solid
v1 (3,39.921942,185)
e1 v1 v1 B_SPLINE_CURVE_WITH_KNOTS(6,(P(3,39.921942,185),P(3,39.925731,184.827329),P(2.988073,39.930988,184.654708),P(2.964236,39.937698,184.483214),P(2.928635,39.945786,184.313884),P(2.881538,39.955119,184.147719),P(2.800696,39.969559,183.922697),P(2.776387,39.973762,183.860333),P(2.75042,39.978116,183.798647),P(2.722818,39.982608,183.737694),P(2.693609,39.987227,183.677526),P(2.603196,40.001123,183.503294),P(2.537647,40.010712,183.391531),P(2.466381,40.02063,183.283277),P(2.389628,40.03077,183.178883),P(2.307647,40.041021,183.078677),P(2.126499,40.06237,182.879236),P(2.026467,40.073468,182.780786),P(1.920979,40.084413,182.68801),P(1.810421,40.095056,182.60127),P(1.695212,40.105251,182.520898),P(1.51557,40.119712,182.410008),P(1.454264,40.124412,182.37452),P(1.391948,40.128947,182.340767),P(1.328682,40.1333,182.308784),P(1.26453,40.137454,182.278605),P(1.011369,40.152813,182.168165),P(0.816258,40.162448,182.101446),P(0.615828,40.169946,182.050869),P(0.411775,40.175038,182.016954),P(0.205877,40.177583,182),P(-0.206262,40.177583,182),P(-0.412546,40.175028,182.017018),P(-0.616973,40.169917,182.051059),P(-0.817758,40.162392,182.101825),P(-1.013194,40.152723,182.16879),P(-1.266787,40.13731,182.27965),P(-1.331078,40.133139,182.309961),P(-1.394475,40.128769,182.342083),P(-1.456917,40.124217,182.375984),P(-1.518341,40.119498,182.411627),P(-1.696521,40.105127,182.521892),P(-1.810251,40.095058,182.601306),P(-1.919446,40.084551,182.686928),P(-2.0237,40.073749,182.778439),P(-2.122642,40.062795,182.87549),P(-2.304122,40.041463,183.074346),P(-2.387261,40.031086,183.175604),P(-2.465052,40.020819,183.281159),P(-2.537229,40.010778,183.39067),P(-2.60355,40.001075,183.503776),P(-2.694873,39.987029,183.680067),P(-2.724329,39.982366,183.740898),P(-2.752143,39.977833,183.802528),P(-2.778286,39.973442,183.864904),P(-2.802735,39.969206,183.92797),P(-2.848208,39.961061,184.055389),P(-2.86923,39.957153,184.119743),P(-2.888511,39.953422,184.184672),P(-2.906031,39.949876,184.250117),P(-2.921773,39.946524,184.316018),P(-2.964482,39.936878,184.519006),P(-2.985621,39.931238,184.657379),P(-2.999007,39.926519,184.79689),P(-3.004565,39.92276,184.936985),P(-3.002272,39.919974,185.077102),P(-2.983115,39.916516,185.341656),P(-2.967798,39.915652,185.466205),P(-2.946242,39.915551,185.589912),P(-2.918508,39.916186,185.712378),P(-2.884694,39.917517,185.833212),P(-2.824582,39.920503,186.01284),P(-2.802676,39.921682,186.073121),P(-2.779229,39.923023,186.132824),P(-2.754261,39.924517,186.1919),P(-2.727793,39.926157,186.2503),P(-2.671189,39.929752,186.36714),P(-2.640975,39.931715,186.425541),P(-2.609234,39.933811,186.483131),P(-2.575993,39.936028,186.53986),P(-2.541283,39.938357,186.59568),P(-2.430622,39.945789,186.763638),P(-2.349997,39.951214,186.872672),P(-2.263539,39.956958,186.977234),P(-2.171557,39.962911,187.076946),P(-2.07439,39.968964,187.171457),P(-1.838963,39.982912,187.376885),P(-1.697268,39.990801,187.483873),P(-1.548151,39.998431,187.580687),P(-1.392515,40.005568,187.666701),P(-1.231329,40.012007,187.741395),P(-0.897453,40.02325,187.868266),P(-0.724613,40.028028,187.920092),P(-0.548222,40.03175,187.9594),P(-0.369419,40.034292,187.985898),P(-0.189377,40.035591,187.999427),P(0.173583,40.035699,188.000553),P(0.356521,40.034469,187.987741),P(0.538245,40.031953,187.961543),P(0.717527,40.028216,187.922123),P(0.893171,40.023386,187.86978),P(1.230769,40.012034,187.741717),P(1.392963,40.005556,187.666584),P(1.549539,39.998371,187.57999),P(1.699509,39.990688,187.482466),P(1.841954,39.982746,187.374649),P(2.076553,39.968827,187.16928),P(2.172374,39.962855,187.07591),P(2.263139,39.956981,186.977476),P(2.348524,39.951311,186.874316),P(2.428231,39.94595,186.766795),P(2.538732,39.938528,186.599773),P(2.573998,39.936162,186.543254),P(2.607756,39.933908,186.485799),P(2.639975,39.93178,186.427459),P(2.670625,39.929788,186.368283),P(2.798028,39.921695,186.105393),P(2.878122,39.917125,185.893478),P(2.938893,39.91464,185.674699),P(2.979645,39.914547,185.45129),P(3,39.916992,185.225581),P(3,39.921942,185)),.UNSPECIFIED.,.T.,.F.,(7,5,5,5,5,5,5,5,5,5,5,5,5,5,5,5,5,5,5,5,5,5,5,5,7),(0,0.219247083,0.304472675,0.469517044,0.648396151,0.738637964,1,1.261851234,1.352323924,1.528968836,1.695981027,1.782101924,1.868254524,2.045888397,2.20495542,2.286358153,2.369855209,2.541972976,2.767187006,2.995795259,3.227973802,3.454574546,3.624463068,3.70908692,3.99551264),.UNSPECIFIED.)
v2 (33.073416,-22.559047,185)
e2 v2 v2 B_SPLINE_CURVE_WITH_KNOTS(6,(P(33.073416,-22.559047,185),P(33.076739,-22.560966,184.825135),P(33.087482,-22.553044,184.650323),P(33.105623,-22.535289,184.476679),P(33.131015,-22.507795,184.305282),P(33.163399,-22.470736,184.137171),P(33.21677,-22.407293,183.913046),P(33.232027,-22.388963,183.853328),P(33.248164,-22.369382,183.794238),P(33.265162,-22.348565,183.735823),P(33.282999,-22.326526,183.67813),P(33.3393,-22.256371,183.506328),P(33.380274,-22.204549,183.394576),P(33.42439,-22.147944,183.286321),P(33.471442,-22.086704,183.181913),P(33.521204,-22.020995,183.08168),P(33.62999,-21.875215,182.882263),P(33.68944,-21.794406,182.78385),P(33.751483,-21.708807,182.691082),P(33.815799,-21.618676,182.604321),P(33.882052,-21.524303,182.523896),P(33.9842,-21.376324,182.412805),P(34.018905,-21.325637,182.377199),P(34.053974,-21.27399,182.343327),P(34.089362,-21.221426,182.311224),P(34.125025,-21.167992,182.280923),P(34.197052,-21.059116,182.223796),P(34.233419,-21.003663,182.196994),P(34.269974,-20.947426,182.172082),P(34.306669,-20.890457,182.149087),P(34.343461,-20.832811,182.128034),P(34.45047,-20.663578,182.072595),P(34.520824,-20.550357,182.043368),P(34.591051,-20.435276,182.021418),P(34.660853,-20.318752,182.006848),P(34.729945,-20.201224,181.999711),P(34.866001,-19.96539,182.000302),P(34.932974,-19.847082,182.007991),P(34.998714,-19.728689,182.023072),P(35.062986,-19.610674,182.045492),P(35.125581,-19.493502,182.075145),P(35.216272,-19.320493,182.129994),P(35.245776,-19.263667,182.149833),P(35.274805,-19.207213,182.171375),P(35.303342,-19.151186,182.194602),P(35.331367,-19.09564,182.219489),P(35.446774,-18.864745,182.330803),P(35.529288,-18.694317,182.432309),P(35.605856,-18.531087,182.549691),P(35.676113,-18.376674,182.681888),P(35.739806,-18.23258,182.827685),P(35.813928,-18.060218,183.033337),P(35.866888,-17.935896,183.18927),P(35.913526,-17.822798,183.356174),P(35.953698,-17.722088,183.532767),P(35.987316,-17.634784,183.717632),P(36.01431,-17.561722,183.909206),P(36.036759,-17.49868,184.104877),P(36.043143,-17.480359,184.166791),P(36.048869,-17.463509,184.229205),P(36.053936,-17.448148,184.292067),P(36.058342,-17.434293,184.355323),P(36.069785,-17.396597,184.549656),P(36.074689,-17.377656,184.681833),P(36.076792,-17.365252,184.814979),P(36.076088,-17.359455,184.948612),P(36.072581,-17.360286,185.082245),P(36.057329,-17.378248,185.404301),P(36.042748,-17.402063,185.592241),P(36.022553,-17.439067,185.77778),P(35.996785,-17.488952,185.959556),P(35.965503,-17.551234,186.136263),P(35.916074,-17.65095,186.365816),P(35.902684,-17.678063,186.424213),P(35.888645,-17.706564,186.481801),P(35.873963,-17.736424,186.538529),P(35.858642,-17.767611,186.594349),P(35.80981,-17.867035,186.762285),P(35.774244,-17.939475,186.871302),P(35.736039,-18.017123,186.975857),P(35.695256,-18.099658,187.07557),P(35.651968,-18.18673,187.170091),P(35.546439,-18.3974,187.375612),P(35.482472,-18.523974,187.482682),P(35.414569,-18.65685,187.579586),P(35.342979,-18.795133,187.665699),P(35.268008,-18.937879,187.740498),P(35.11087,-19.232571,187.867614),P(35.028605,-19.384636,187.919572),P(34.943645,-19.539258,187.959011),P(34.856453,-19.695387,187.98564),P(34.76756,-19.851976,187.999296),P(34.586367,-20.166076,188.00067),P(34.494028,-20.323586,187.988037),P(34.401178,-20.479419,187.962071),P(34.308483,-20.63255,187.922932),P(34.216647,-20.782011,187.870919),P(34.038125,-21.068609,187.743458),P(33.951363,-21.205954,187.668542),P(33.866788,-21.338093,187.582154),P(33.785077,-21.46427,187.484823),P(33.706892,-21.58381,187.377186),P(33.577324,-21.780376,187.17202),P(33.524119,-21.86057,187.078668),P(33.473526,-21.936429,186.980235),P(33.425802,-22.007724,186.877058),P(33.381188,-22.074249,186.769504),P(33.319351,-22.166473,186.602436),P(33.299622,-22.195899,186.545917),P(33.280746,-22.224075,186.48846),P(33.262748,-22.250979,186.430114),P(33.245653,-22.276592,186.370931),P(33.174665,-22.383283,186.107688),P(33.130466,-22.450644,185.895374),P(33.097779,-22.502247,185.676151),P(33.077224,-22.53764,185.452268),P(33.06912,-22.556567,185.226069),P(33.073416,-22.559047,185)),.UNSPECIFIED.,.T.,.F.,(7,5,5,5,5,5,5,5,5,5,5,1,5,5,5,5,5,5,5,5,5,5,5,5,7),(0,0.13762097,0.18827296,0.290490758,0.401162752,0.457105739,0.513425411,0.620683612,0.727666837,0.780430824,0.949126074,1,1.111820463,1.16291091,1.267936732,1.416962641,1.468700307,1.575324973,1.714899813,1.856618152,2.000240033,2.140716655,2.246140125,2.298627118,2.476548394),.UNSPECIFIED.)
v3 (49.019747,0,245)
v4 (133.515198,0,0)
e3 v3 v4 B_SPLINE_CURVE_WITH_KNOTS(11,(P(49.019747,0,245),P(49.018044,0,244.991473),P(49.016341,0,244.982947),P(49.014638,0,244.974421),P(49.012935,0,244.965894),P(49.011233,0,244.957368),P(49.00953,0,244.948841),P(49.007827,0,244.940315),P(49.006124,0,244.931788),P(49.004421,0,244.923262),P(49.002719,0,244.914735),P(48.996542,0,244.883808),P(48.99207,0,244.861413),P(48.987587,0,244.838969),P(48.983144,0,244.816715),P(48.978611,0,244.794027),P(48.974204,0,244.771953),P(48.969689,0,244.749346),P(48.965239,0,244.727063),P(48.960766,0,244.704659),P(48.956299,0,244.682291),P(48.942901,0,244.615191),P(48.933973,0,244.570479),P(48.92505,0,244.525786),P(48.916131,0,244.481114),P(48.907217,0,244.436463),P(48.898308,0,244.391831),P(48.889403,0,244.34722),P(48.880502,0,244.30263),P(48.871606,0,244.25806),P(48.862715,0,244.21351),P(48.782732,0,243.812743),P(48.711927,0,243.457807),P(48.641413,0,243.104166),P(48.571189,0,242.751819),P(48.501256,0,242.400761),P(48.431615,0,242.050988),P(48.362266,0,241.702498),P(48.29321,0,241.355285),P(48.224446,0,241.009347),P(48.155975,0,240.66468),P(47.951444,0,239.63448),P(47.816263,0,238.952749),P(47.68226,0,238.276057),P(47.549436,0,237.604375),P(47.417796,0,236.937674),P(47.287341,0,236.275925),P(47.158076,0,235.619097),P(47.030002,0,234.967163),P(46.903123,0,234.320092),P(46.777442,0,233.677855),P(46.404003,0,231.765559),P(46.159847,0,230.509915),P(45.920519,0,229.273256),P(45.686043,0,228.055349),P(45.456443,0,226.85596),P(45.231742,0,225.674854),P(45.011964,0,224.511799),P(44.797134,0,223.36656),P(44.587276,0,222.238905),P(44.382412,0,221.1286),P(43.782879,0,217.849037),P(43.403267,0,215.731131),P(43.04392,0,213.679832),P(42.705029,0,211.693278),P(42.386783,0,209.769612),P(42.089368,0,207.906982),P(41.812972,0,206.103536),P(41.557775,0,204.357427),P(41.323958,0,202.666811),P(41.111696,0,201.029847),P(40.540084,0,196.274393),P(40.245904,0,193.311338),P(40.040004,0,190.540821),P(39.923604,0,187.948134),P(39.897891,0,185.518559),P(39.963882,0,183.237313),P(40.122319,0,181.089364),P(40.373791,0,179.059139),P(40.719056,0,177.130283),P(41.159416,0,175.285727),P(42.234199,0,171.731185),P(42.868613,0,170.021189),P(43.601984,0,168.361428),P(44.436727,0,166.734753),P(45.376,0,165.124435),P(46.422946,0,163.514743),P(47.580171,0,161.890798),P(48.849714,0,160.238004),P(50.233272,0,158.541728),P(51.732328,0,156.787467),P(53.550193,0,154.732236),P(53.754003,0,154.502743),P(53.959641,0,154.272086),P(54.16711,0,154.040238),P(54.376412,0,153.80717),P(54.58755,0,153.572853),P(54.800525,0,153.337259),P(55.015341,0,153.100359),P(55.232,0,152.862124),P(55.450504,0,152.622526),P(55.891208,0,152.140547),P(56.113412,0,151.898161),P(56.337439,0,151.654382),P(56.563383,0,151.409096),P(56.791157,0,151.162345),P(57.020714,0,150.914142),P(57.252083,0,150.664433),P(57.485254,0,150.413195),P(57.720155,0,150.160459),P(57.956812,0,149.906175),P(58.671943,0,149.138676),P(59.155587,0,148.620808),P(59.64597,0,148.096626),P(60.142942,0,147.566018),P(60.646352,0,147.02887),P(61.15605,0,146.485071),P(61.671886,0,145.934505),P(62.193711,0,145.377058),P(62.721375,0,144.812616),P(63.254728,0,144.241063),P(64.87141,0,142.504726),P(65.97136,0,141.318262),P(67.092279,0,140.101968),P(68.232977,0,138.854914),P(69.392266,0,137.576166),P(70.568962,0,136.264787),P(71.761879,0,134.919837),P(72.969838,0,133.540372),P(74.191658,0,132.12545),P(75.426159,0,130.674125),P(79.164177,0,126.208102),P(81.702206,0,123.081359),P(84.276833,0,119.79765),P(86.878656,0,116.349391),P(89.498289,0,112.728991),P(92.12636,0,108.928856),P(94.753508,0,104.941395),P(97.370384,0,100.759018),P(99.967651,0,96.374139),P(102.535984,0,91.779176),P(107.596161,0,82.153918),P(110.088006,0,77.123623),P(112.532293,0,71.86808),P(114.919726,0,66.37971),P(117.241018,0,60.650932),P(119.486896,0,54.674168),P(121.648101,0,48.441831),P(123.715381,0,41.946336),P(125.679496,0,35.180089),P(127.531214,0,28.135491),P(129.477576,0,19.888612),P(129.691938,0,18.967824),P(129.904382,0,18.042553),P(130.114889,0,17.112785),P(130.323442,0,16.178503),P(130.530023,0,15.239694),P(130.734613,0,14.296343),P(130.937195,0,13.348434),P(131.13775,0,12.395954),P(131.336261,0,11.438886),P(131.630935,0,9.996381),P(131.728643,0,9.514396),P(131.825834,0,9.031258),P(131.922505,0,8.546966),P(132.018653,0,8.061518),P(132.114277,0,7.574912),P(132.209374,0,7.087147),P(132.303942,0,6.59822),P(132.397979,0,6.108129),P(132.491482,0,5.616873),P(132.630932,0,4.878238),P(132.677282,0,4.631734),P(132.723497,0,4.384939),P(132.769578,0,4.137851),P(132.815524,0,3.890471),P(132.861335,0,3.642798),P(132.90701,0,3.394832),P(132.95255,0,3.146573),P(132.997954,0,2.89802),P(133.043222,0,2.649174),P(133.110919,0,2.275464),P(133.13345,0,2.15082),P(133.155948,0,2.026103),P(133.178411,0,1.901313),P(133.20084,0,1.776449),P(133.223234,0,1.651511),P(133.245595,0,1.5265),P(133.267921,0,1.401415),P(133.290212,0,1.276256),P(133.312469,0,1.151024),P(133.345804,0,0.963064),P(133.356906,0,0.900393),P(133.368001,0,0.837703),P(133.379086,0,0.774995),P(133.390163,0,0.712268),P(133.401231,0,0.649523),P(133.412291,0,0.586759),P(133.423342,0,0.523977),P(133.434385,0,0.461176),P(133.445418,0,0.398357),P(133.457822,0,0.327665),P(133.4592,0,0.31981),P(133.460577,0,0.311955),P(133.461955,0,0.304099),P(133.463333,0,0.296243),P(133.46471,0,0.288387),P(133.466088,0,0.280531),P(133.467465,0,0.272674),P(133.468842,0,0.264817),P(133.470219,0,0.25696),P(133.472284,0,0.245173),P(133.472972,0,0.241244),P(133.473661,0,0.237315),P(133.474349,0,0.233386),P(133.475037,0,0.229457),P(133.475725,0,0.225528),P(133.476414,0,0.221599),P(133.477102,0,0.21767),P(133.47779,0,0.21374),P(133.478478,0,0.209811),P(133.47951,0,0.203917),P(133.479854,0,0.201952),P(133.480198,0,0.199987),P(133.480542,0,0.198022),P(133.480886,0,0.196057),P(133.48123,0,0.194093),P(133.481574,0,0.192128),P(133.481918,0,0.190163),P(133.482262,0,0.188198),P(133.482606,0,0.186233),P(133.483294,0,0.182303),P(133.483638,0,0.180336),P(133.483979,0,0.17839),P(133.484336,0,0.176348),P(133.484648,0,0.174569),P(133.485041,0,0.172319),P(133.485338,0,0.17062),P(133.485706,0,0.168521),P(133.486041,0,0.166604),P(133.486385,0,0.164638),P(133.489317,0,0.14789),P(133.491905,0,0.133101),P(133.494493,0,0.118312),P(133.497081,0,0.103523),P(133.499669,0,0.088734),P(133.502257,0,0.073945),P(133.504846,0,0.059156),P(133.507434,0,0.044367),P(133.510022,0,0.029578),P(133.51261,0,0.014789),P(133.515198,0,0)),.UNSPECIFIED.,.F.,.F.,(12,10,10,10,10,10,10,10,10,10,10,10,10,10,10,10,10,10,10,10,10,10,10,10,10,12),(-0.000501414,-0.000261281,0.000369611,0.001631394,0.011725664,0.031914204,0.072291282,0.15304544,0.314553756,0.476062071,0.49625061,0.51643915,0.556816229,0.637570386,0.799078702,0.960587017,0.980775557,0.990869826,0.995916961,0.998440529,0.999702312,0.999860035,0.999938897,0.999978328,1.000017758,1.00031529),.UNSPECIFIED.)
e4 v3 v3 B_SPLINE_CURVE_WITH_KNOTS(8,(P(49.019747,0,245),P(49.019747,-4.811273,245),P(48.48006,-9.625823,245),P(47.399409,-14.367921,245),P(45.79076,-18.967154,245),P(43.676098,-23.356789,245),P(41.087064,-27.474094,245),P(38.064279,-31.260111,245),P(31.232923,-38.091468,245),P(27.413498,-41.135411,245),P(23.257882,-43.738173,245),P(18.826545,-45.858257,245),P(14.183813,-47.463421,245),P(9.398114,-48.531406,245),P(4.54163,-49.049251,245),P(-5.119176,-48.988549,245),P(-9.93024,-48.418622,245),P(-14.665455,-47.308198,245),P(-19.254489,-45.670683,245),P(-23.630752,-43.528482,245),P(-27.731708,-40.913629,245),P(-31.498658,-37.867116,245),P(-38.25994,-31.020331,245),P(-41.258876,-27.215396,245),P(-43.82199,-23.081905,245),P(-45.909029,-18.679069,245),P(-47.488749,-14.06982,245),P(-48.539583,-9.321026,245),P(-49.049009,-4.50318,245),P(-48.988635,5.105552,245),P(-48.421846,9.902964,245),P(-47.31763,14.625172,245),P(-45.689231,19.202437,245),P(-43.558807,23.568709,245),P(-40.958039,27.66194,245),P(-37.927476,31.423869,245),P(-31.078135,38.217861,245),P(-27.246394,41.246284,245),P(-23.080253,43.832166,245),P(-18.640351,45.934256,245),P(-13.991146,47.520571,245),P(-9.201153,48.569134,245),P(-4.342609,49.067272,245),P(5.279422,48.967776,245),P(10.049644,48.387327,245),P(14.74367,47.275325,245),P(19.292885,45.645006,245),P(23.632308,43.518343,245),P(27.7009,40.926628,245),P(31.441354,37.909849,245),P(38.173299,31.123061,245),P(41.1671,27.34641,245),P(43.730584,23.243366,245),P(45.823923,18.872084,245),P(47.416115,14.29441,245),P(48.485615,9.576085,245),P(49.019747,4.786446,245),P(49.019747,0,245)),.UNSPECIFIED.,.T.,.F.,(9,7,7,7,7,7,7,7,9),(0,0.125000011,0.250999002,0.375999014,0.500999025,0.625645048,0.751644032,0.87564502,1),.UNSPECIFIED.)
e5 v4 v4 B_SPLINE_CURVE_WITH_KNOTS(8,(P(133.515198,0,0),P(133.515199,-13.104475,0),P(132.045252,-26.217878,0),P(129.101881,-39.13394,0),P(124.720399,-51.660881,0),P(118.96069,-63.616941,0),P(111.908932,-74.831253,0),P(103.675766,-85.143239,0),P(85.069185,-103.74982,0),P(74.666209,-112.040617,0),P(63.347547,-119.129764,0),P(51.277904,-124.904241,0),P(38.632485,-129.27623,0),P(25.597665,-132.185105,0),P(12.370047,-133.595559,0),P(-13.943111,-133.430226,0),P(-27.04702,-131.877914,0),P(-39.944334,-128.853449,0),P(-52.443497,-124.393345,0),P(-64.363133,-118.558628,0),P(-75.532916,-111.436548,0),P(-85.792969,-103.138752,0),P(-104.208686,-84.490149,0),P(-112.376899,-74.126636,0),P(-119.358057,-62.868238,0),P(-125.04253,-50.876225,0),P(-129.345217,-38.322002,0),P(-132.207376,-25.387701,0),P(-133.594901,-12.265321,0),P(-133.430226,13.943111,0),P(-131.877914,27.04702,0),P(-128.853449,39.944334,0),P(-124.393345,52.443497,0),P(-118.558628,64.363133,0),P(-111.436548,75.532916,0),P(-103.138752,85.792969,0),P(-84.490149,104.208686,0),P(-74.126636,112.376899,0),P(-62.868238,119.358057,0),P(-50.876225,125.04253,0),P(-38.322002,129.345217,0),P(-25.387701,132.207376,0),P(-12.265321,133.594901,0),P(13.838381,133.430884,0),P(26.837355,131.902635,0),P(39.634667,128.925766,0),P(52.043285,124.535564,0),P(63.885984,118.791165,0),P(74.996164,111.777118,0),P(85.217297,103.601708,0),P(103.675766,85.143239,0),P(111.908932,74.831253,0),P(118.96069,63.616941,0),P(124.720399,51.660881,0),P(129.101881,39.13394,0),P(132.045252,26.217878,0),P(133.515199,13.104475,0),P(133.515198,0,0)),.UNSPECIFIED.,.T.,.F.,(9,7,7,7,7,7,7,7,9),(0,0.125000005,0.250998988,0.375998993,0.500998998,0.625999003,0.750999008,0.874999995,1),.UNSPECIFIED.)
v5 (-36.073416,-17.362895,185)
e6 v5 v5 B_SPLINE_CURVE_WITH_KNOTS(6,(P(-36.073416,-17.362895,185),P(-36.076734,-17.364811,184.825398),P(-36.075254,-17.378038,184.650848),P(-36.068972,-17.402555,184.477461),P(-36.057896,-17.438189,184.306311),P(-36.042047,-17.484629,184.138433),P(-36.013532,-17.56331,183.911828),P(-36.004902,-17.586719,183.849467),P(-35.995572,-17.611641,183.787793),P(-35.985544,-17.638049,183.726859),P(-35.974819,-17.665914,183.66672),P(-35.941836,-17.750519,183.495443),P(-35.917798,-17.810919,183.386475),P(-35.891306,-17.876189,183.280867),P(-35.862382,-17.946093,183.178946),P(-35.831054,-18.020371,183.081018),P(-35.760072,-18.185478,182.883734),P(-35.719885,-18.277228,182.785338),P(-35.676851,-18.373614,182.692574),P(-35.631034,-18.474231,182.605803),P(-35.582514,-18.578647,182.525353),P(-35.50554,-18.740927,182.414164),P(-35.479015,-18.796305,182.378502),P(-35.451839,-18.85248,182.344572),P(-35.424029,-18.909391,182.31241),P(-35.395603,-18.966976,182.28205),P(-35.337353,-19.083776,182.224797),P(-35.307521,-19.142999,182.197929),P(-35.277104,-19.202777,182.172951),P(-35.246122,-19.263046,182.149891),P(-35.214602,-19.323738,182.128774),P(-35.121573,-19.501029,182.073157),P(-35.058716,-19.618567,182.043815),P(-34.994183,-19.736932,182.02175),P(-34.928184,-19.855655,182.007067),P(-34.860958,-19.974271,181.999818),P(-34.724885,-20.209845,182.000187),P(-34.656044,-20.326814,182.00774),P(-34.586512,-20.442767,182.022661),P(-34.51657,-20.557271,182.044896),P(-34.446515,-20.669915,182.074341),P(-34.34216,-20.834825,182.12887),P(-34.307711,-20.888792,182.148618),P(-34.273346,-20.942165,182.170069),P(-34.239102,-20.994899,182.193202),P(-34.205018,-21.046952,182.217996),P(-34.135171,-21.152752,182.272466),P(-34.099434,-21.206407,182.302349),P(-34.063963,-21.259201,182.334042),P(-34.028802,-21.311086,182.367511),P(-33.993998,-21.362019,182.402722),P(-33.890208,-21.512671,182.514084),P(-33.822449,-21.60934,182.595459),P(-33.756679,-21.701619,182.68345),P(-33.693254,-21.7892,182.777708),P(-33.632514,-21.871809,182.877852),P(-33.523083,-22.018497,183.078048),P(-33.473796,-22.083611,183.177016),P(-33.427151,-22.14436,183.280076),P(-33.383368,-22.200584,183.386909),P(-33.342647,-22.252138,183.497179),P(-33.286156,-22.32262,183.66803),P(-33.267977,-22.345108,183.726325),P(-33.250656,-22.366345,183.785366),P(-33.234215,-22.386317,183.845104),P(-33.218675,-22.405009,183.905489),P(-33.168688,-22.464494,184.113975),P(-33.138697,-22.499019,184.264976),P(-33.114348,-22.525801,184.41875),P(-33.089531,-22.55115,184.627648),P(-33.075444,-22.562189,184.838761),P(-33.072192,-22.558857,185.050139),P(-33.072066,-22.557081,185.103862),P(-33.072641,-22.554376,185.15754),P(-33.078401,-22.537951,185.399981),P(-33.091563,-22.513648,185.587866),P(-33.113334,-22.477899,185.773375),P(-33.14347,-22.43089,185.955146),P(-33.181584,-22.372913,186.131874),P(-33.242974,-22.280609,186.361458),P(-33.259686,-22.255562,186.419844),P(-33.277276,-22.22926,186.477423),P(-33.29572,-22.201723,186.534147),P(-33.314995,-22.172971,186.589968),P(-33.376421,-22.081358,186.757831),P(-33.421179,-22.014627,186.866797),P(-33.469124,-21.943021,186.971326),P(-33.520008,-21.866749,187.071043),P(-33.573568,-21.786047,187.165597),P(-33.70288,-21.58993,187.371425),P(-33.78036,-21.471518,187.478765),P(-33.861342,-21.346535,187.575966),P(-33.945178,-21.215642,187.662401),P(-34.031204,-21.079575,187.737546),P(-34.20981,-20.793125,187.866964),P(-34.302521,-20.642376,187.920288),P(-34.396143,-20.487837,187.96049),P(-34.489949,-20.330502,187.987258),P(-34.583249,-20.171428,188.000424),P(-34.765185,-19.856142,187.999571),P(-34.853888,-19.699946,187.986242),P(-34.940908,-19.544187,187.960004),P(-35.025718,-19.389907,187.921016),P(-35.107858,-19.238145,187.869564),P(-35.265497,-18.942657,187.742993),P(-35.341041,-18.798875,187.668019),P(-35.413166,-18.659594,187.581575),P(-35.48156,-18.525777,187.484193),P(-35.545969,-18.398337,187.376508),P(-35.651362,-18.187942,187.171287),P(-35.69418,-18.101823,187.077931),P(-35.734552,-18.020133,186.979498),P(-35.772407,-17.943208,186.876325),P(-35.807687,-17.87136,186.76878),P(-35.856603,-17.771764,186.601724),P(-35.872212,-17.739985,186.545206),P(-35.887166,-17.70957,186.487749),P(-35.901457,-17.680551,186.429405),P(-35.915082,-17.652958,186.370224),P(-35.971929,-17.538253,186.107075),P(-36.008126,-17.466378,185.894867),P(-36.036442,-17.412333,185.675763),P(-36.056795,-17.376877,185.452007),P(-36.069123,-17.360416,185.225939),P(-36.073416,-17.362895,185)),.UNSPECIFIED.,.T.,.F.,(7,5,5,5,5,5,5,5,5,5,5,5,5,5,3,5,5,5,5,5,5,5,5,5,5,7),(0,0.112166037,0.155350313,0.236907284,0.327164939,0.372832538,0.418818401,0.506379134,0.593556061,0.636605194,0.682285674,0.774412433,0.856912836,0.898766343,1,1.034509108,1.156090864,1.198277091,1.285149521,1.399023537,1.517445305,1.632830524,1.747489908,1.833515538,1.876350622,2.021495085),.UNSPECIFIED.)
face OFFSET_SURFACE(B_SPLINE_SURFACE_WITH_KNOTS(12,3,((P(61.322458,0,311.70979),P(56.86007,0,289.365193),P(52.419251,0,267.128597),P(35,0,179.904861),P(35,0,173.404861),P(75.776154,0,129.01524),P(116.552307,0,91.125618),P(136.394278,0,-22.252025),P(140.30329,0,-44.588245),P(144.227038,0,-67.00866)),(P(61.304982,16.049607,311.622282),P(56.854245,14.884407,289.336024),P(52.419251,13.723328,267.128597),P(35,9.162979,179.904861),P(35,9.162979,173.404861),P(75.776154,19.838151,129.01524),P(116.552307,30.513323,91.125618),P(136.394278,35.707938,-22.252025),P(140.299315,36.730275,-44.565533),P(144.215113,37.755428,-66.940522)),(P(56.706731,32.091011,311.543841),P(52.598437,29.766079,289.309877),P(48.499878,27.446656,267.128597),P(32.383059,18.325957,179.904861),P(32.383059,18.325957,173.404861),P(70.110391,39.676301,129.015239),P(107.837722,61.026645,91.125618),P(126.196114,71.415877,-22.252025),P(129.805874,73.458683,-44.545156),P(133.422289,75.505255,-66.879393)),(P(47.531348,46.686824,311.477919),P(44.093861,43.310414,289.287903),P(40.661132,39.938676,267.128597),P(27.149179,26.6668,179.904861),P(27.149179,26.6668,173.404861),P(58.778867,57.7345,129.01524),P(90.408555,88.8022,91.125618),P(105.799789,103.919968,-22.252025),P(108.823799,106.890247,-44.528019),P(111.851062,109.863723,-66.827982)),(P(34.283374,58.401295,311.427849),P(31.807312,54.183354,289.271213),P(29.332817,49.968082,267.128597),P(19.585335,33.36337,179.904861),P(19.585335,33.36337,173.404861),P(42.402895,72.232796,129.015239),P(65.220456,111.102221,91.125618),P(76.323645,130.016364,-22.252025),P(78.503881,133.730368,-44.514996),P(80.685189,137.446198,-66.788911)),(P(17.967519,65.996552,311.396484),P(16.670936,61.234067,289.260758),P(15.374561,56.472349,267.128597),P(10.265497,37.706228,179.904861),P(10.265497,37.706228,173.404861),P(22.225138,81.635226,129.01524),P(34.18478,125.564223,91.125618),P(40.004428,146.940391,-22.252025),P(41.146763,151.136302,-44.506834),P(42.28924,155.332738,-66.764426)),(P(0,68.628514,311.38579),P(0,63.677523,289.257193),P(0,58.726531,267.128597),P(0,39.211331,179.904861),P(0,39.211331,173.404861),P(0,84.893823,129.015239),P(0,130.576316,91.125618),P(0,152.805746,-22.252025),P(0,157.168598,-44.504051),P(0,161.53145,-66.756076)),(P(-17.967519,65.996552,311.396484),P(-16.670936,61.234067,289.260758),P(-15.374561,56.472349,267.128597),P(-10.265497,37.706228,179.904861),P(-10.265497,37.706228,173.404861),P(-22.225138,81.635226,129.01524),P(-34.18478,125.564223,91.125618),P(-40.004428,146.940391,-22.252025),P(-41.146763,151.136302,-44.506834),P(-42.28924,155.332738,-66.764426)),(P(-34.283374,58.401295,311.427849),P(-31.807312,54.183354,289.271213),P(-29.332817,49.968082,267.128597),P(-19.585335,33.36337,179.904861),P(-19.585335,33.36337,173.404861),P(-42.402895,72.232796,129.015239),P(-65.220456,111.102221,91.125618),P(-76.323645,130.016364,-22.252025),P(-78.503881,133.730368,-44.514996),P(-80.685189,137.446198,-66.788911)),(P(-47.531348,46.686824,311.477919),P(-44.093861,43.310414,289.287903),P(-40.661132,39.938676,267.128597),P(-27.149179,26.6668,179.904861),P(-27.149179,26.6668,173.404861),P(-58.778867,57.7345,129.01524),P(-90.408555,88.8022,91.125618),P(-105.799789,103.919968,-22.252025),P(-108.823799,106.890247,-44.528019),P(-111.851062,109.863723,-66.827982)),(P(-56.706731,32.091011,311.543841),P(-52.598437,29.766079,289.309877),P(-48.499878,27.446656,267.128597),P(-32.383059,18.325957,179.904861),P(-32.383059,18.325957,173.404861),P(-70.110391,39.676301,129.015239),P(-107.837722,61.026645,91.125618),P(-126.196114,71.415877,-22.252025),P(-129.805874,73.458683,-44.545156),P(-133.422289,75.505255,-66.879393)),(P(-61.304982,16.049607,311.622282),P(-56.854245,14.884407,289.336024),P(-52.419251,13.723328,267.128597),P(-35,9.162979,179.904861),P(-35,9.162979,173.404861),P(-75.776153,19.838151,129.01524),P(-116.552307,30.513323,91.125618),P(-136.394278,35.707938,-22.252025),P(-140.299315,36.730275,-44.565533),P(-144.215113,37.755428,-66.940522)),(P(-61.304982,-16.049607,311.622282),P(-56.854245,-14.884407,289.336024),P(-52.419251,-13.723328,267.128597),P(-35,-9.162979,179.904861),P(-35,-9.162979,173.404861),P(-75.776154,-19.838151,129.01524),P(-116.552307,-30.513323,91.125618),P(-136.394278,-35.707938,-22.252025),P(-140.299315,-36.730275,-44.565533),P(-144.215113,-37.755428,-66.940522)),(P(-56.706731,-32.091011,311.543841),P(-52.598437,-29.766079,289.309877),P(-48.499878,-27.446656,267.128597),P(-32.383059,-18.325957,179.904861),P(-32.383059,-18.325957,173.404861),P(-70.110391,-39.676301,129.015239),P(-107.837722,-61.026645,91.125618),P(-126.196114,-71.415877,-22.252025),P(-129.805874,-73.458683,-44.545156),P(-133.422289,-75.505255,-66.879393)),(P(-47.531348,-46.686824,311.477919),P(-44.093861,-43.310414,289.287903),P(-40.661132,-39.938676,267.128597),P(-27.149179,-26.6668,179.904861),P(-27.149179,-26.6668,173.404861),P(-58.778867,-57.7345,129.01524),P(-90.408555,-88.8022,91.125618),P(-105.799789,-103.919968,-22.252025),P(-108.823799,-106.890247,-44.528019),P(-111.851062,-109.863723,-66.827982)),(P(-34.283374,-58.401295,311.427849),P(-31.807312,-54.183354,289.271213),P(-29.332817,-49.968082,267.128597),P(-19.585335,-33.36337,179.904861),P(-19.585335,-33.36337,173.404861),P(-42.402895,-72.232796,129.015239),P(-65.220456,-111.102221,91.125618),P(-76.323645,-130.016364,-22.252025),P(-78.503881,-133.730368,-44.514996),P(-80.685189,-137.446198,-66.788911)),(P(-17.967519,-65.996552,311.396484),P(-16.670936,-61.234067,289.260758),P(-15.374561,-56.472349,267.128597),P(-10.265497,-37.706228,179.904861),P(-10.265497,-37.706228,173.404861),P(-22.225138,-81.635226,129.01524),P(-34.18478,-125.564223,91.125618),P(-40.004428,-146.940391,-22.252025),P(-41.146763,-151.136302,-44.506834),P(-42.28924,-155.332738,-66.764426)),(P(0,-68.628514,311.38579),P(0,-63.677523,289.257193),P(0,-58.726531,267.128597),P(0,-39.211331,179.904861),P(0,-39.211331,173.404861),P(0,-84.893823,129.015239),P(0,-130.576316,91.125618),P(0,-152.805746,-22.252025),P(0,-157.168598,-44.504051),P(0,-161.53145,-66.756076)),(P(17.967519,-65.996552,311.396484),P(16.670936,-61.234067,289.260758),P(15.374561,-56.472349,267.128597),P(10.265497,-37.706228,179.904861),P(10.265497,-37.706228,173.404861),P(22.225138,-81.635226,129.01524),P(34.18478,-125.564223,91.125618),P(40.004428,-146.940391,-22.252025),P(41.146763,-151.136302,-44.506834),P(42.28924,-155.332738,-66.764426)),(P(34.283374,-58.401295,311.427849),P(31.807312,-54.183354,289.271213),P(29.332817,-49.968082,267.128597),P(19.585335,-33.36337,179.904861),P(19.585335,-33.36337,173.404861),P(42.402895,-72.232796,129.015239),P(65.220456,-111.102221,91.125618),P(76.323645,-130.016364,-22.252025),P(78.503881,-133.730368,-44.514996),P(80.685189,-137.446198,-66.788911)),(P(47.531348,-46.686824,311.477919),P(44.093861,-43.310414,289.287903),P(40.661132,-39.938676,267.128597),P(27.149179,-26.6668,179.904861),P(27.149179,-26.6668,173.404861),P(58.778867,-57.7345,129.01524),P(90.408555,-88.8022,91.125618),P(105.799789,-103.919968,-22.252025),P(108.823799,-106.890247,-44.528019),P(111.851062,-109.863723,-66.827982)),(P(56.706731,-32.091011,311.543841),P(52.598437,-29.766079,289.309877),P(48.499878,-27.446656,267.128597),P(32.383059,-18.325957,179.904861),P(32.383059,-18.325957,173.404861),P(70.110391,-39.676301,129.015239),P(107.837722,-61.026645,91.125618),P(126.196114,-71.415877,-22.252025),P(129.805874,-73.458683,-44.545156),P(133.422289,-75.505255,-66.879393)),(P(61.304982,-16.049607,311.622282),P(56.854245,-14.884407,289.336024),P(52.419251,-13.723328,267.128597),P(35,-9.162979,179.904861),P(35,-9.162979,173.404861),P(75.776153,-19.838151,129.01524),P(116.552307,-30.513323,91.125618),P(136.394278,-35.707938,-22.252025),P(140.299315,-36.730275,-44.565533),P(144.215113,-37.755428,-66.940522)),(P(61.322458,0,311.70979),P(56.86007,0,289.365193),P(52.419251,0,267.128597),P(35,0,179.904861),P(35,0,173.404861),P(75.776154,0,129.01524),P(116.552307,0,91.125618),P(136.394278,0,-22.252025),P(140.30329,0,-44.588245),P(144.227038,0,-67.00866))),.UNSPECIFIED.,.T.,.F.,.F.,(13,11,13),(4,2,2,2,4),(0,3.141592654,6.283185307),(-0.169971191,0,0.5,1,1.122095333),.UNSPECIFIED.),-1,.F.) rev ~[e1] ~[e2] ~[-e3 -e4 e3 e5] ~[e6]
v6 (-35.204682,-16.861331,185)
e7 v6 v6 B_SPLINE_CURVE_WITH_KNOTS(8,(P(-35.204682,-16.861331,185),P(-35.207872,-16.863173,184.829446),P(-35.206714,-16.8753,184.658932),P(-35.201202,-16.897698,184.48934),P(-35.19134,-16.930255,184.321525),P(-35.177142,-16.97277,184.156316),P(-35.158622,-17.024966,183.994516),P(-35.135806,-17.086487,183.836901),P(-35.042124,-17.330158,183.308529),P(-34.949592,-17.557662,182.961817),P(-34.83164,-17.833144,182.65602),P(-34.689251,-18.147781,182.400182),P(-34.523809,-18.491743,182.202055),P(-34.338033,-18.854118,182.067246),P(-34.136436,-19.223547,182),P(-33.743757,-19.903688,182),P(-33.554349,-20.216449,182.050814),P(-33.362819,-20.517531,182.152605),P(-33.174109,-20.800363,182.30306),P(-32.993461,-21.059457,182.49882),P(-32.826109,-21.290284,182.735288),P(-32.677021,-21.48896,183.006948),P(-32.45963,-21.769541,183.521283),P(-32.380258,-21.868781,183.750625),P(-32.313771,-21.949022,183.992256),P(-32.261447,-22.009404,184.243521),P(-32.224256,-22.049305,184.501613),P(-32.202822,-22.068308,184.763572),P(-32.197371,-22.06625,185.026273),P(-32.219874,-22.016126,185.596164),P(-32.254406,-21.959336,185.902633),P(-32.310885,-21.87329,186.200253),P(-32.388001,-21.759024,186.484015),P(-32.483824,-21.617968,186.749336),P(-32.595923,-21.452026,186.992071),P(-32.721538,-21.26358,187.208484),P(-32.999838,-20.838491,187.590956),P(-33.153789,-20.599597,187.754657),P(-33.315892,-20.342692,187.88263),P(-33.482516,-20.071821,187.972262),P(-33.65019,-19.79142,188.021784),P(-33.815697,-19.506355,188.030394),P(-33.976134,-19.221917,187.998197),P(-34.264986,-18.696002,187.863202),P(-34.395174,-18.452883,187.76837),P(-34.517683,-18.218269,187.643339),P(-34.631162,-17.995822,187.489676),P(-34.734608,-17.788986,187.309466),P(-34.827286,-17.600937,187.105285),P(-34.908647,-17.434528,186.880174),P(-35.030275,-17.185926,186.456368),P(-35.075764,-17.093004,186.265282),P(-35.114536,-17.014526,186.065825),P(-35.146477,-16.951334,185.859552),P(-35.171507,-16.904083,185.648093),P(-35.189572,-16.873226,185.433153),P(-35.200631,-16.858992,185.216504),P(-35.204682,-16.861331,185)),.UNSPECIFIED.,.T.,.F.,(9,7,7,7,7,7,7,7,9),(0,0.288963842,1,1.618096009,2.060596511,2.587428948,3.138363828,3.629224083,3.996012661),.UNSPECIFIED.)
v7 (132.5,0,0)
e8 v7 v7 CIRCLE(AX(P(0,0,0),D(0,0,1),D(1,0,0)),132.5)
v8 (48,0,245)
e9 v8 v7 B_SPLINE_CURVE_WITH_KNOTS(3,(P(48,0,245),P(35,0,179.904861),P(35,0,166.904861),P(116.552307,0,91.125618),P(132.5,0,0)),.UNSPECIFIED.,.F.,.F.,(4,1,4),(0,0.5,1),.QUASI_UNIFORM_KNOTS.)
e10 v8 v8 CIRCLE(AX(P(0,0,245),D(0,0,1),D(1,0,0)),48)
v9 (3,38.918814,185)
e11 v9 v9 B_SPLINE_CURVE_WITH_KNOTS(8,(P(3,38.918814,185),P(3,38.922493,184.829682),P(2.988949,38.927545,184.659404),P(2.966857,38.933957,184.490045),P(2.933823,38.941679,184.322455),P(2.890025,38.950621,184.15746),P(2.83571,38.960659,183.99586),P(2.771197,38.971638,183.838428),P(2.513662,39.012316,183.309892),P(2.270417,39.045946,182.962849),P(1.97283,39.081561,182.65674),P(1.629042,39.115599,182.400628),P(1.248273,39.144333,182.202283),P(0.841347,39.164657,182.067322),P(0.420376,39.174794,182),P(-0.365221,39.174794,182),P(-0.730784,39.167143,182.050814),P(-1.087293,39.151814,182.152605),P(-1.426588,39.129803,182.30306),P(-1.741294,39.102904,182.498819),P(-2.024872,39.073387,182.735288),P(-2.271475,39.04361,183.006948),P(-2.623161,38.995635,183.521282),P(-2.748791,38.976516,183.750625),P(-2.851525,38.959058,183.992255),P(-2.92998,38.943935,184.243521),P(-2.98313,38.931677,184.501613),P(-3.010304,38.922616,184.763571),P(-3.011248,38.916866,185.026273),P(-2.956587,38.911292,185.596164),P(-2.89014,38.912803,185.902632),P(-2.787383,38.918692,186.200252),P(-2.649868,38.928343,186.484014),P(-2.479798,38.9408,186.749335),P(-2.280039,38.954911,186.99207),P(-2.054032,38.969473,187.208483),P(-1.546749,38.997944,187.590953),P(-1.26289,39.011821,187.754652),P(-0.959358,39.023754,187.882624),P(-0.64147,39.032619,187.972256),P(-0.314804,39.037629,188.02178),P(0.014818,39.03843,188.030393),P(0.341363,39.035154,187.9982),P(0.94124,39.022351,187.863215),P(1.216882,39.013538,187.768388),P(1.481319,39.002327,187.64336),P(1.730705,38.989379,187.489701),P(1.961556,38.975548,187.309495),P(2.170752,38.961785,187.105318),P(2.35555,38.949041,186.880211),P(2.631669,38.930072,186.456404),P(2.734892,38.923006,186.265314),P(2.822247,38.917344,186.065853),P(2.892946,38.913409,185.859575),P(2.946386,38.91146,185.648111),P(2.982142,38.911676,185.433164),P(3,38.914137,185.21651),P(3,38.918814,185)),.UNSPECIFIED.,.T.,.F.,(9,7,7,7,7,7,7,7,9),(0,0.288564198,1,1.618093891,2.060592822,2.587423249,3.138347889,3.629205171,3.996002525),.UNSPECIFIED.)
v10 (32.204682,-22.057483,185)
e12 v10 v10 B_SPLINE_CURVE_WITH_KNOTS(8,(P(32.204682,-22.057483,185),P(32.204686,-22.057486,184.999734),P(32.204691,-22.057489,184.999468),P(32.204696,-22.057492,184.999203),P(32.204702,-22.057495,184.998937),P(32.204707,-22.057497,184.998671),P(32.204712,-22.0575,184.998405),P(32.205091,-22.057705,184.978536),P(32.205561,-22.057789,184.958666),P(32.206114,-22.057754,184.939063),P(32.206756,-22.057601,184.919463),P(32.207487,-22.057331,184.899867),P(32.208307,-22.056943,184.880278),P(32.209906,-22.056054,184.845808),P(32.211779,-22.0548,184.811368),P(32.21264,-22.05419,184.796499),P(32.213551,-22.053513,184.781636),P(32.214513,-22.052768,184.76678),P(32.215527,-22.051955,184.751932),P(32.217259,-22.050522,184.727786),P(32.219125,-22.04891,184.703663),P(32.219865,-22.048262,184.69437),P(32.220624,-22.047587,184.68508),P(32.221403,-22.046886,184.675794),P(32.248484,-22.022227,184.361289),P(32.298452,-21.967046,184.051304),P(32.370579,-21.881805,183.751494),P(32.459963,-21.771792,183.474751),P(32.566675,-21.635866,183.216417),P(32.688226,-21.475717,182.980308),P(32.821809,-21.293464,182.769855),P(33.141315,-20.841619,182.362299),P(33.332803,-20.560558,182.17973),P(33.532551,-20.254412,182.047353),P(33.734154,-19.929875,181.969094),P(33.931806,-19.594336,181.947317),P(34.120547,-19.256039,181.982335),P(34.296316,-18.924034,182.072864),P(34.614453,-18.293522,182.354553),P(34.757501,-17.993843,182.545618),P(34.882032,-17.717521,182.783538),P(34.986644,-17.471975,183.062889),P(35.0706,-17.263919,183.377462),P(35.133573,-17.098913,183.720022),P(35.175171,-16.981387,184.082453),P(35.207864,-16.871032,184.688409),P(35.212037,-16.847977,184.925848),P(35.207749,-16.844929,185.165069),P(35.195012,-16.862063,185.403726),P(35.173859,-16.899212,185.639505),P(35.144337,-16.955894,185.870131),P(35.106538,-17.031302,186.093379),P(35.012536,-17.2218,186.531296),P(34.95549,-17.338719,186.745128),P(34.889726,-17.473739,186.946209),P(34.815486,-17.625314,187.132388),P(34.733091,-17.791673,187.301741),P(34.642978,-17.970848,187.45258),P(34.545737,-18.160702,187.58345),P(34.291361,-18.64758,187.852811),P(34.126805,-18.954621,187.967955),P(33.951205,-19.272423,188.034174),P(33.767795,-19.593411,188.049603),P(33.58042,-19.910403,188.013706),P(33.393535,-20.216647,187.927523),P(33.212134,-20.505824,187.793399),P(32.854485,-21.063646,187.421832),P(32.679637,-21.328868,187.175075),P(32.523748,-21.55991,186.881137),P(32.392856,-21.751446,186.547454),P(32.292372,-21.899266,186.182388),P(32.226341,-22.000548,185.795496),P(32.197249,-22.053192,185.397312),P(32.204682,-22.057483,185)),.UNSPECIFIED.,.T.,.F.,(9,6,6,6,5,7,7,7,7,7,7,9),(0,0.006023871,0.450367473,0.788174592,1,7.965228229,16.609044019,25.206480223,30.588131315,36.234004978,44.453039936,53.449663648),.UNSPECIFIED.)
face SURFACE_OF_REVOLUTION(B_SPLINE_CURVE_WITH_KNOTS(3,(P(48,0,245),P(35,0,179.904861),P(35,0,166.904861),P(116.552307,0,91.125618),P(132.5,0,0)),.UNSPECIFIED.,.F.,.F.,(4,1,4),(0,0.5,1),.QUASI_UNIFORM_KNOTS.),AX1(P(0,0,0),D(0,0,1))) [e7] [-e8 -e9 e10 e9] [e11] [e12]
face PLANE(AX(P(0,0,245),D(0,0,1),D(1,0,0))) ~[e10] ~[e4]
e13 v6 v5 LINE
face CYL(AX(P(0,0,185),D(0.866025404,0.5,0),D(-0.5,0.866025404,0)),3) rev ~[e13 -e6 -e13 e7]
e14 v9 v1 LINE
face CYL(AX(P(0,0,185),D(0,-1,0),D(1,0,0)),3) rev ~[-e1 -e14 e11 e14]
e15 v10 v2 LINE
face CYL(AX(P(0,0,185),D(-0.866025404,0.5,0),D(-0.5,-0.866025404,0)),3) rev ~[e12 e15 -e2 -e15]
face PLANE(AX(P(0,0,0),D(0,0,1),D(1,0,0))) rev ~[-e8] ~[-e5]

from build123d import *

# Parameters (mm, degrees)
THICKNESS_T        = 1
SKETCH001_R        = 3
POCKET_DEPTH       = 1033.817189
POLARPATTERN_COUNT = 3


with BuildPart() as part:
    # Sketch → Revolution (revolve)
    with BuildSketch(Plane.XZ):
        with BuildLine():
            Line((0, 0), (0, 245))
            Line((0, 245), (48, 245))
            add(Edge.make_bspline(
                [(48, 245), (35, 179.904861), (35, 166.904861), (116.552307, 91.125618), (132.5, 0)],
                knots=[0, 0, 0, 0, 0.5, 1, 1, 1, 1], degree=3))
            Line((132.5, 0), (0, 0))
        make_face()
    revolve(axis=Axis((0, 0, 0), (0, 0, 1)))

    # Thickness
    thickness_openings = [part.faces().sort_by_distance(p)[0] for p in [
        (0, 0, 0),
        (0, 0, 245),
    ]]
    offset(amount=THICKNESS_T, openings=thickness_openings)

    # Sketch001 → Pocket (cut, through all)
    with BuildSketch(Plane.XZ):
        with Locations((0, 185)):
            Circle(SKETCH001_R)
    pocket = extrude(amount=-POCKET_DEPTH, mode=Mode.SUBTRACT)

    # PolarPattern: Pocket ×3 about axis
    polarpattern_axis = Axis((0, 0, 0), (0, 0, 1))
    for i in range(1, POLARPATTERN_COUNT):
        add(pocket.rotate(polarpattern_axis, i * 360 / POLARPATTERN_COUNT), mode=Mode.SUBTRACT)


solid = part.part
